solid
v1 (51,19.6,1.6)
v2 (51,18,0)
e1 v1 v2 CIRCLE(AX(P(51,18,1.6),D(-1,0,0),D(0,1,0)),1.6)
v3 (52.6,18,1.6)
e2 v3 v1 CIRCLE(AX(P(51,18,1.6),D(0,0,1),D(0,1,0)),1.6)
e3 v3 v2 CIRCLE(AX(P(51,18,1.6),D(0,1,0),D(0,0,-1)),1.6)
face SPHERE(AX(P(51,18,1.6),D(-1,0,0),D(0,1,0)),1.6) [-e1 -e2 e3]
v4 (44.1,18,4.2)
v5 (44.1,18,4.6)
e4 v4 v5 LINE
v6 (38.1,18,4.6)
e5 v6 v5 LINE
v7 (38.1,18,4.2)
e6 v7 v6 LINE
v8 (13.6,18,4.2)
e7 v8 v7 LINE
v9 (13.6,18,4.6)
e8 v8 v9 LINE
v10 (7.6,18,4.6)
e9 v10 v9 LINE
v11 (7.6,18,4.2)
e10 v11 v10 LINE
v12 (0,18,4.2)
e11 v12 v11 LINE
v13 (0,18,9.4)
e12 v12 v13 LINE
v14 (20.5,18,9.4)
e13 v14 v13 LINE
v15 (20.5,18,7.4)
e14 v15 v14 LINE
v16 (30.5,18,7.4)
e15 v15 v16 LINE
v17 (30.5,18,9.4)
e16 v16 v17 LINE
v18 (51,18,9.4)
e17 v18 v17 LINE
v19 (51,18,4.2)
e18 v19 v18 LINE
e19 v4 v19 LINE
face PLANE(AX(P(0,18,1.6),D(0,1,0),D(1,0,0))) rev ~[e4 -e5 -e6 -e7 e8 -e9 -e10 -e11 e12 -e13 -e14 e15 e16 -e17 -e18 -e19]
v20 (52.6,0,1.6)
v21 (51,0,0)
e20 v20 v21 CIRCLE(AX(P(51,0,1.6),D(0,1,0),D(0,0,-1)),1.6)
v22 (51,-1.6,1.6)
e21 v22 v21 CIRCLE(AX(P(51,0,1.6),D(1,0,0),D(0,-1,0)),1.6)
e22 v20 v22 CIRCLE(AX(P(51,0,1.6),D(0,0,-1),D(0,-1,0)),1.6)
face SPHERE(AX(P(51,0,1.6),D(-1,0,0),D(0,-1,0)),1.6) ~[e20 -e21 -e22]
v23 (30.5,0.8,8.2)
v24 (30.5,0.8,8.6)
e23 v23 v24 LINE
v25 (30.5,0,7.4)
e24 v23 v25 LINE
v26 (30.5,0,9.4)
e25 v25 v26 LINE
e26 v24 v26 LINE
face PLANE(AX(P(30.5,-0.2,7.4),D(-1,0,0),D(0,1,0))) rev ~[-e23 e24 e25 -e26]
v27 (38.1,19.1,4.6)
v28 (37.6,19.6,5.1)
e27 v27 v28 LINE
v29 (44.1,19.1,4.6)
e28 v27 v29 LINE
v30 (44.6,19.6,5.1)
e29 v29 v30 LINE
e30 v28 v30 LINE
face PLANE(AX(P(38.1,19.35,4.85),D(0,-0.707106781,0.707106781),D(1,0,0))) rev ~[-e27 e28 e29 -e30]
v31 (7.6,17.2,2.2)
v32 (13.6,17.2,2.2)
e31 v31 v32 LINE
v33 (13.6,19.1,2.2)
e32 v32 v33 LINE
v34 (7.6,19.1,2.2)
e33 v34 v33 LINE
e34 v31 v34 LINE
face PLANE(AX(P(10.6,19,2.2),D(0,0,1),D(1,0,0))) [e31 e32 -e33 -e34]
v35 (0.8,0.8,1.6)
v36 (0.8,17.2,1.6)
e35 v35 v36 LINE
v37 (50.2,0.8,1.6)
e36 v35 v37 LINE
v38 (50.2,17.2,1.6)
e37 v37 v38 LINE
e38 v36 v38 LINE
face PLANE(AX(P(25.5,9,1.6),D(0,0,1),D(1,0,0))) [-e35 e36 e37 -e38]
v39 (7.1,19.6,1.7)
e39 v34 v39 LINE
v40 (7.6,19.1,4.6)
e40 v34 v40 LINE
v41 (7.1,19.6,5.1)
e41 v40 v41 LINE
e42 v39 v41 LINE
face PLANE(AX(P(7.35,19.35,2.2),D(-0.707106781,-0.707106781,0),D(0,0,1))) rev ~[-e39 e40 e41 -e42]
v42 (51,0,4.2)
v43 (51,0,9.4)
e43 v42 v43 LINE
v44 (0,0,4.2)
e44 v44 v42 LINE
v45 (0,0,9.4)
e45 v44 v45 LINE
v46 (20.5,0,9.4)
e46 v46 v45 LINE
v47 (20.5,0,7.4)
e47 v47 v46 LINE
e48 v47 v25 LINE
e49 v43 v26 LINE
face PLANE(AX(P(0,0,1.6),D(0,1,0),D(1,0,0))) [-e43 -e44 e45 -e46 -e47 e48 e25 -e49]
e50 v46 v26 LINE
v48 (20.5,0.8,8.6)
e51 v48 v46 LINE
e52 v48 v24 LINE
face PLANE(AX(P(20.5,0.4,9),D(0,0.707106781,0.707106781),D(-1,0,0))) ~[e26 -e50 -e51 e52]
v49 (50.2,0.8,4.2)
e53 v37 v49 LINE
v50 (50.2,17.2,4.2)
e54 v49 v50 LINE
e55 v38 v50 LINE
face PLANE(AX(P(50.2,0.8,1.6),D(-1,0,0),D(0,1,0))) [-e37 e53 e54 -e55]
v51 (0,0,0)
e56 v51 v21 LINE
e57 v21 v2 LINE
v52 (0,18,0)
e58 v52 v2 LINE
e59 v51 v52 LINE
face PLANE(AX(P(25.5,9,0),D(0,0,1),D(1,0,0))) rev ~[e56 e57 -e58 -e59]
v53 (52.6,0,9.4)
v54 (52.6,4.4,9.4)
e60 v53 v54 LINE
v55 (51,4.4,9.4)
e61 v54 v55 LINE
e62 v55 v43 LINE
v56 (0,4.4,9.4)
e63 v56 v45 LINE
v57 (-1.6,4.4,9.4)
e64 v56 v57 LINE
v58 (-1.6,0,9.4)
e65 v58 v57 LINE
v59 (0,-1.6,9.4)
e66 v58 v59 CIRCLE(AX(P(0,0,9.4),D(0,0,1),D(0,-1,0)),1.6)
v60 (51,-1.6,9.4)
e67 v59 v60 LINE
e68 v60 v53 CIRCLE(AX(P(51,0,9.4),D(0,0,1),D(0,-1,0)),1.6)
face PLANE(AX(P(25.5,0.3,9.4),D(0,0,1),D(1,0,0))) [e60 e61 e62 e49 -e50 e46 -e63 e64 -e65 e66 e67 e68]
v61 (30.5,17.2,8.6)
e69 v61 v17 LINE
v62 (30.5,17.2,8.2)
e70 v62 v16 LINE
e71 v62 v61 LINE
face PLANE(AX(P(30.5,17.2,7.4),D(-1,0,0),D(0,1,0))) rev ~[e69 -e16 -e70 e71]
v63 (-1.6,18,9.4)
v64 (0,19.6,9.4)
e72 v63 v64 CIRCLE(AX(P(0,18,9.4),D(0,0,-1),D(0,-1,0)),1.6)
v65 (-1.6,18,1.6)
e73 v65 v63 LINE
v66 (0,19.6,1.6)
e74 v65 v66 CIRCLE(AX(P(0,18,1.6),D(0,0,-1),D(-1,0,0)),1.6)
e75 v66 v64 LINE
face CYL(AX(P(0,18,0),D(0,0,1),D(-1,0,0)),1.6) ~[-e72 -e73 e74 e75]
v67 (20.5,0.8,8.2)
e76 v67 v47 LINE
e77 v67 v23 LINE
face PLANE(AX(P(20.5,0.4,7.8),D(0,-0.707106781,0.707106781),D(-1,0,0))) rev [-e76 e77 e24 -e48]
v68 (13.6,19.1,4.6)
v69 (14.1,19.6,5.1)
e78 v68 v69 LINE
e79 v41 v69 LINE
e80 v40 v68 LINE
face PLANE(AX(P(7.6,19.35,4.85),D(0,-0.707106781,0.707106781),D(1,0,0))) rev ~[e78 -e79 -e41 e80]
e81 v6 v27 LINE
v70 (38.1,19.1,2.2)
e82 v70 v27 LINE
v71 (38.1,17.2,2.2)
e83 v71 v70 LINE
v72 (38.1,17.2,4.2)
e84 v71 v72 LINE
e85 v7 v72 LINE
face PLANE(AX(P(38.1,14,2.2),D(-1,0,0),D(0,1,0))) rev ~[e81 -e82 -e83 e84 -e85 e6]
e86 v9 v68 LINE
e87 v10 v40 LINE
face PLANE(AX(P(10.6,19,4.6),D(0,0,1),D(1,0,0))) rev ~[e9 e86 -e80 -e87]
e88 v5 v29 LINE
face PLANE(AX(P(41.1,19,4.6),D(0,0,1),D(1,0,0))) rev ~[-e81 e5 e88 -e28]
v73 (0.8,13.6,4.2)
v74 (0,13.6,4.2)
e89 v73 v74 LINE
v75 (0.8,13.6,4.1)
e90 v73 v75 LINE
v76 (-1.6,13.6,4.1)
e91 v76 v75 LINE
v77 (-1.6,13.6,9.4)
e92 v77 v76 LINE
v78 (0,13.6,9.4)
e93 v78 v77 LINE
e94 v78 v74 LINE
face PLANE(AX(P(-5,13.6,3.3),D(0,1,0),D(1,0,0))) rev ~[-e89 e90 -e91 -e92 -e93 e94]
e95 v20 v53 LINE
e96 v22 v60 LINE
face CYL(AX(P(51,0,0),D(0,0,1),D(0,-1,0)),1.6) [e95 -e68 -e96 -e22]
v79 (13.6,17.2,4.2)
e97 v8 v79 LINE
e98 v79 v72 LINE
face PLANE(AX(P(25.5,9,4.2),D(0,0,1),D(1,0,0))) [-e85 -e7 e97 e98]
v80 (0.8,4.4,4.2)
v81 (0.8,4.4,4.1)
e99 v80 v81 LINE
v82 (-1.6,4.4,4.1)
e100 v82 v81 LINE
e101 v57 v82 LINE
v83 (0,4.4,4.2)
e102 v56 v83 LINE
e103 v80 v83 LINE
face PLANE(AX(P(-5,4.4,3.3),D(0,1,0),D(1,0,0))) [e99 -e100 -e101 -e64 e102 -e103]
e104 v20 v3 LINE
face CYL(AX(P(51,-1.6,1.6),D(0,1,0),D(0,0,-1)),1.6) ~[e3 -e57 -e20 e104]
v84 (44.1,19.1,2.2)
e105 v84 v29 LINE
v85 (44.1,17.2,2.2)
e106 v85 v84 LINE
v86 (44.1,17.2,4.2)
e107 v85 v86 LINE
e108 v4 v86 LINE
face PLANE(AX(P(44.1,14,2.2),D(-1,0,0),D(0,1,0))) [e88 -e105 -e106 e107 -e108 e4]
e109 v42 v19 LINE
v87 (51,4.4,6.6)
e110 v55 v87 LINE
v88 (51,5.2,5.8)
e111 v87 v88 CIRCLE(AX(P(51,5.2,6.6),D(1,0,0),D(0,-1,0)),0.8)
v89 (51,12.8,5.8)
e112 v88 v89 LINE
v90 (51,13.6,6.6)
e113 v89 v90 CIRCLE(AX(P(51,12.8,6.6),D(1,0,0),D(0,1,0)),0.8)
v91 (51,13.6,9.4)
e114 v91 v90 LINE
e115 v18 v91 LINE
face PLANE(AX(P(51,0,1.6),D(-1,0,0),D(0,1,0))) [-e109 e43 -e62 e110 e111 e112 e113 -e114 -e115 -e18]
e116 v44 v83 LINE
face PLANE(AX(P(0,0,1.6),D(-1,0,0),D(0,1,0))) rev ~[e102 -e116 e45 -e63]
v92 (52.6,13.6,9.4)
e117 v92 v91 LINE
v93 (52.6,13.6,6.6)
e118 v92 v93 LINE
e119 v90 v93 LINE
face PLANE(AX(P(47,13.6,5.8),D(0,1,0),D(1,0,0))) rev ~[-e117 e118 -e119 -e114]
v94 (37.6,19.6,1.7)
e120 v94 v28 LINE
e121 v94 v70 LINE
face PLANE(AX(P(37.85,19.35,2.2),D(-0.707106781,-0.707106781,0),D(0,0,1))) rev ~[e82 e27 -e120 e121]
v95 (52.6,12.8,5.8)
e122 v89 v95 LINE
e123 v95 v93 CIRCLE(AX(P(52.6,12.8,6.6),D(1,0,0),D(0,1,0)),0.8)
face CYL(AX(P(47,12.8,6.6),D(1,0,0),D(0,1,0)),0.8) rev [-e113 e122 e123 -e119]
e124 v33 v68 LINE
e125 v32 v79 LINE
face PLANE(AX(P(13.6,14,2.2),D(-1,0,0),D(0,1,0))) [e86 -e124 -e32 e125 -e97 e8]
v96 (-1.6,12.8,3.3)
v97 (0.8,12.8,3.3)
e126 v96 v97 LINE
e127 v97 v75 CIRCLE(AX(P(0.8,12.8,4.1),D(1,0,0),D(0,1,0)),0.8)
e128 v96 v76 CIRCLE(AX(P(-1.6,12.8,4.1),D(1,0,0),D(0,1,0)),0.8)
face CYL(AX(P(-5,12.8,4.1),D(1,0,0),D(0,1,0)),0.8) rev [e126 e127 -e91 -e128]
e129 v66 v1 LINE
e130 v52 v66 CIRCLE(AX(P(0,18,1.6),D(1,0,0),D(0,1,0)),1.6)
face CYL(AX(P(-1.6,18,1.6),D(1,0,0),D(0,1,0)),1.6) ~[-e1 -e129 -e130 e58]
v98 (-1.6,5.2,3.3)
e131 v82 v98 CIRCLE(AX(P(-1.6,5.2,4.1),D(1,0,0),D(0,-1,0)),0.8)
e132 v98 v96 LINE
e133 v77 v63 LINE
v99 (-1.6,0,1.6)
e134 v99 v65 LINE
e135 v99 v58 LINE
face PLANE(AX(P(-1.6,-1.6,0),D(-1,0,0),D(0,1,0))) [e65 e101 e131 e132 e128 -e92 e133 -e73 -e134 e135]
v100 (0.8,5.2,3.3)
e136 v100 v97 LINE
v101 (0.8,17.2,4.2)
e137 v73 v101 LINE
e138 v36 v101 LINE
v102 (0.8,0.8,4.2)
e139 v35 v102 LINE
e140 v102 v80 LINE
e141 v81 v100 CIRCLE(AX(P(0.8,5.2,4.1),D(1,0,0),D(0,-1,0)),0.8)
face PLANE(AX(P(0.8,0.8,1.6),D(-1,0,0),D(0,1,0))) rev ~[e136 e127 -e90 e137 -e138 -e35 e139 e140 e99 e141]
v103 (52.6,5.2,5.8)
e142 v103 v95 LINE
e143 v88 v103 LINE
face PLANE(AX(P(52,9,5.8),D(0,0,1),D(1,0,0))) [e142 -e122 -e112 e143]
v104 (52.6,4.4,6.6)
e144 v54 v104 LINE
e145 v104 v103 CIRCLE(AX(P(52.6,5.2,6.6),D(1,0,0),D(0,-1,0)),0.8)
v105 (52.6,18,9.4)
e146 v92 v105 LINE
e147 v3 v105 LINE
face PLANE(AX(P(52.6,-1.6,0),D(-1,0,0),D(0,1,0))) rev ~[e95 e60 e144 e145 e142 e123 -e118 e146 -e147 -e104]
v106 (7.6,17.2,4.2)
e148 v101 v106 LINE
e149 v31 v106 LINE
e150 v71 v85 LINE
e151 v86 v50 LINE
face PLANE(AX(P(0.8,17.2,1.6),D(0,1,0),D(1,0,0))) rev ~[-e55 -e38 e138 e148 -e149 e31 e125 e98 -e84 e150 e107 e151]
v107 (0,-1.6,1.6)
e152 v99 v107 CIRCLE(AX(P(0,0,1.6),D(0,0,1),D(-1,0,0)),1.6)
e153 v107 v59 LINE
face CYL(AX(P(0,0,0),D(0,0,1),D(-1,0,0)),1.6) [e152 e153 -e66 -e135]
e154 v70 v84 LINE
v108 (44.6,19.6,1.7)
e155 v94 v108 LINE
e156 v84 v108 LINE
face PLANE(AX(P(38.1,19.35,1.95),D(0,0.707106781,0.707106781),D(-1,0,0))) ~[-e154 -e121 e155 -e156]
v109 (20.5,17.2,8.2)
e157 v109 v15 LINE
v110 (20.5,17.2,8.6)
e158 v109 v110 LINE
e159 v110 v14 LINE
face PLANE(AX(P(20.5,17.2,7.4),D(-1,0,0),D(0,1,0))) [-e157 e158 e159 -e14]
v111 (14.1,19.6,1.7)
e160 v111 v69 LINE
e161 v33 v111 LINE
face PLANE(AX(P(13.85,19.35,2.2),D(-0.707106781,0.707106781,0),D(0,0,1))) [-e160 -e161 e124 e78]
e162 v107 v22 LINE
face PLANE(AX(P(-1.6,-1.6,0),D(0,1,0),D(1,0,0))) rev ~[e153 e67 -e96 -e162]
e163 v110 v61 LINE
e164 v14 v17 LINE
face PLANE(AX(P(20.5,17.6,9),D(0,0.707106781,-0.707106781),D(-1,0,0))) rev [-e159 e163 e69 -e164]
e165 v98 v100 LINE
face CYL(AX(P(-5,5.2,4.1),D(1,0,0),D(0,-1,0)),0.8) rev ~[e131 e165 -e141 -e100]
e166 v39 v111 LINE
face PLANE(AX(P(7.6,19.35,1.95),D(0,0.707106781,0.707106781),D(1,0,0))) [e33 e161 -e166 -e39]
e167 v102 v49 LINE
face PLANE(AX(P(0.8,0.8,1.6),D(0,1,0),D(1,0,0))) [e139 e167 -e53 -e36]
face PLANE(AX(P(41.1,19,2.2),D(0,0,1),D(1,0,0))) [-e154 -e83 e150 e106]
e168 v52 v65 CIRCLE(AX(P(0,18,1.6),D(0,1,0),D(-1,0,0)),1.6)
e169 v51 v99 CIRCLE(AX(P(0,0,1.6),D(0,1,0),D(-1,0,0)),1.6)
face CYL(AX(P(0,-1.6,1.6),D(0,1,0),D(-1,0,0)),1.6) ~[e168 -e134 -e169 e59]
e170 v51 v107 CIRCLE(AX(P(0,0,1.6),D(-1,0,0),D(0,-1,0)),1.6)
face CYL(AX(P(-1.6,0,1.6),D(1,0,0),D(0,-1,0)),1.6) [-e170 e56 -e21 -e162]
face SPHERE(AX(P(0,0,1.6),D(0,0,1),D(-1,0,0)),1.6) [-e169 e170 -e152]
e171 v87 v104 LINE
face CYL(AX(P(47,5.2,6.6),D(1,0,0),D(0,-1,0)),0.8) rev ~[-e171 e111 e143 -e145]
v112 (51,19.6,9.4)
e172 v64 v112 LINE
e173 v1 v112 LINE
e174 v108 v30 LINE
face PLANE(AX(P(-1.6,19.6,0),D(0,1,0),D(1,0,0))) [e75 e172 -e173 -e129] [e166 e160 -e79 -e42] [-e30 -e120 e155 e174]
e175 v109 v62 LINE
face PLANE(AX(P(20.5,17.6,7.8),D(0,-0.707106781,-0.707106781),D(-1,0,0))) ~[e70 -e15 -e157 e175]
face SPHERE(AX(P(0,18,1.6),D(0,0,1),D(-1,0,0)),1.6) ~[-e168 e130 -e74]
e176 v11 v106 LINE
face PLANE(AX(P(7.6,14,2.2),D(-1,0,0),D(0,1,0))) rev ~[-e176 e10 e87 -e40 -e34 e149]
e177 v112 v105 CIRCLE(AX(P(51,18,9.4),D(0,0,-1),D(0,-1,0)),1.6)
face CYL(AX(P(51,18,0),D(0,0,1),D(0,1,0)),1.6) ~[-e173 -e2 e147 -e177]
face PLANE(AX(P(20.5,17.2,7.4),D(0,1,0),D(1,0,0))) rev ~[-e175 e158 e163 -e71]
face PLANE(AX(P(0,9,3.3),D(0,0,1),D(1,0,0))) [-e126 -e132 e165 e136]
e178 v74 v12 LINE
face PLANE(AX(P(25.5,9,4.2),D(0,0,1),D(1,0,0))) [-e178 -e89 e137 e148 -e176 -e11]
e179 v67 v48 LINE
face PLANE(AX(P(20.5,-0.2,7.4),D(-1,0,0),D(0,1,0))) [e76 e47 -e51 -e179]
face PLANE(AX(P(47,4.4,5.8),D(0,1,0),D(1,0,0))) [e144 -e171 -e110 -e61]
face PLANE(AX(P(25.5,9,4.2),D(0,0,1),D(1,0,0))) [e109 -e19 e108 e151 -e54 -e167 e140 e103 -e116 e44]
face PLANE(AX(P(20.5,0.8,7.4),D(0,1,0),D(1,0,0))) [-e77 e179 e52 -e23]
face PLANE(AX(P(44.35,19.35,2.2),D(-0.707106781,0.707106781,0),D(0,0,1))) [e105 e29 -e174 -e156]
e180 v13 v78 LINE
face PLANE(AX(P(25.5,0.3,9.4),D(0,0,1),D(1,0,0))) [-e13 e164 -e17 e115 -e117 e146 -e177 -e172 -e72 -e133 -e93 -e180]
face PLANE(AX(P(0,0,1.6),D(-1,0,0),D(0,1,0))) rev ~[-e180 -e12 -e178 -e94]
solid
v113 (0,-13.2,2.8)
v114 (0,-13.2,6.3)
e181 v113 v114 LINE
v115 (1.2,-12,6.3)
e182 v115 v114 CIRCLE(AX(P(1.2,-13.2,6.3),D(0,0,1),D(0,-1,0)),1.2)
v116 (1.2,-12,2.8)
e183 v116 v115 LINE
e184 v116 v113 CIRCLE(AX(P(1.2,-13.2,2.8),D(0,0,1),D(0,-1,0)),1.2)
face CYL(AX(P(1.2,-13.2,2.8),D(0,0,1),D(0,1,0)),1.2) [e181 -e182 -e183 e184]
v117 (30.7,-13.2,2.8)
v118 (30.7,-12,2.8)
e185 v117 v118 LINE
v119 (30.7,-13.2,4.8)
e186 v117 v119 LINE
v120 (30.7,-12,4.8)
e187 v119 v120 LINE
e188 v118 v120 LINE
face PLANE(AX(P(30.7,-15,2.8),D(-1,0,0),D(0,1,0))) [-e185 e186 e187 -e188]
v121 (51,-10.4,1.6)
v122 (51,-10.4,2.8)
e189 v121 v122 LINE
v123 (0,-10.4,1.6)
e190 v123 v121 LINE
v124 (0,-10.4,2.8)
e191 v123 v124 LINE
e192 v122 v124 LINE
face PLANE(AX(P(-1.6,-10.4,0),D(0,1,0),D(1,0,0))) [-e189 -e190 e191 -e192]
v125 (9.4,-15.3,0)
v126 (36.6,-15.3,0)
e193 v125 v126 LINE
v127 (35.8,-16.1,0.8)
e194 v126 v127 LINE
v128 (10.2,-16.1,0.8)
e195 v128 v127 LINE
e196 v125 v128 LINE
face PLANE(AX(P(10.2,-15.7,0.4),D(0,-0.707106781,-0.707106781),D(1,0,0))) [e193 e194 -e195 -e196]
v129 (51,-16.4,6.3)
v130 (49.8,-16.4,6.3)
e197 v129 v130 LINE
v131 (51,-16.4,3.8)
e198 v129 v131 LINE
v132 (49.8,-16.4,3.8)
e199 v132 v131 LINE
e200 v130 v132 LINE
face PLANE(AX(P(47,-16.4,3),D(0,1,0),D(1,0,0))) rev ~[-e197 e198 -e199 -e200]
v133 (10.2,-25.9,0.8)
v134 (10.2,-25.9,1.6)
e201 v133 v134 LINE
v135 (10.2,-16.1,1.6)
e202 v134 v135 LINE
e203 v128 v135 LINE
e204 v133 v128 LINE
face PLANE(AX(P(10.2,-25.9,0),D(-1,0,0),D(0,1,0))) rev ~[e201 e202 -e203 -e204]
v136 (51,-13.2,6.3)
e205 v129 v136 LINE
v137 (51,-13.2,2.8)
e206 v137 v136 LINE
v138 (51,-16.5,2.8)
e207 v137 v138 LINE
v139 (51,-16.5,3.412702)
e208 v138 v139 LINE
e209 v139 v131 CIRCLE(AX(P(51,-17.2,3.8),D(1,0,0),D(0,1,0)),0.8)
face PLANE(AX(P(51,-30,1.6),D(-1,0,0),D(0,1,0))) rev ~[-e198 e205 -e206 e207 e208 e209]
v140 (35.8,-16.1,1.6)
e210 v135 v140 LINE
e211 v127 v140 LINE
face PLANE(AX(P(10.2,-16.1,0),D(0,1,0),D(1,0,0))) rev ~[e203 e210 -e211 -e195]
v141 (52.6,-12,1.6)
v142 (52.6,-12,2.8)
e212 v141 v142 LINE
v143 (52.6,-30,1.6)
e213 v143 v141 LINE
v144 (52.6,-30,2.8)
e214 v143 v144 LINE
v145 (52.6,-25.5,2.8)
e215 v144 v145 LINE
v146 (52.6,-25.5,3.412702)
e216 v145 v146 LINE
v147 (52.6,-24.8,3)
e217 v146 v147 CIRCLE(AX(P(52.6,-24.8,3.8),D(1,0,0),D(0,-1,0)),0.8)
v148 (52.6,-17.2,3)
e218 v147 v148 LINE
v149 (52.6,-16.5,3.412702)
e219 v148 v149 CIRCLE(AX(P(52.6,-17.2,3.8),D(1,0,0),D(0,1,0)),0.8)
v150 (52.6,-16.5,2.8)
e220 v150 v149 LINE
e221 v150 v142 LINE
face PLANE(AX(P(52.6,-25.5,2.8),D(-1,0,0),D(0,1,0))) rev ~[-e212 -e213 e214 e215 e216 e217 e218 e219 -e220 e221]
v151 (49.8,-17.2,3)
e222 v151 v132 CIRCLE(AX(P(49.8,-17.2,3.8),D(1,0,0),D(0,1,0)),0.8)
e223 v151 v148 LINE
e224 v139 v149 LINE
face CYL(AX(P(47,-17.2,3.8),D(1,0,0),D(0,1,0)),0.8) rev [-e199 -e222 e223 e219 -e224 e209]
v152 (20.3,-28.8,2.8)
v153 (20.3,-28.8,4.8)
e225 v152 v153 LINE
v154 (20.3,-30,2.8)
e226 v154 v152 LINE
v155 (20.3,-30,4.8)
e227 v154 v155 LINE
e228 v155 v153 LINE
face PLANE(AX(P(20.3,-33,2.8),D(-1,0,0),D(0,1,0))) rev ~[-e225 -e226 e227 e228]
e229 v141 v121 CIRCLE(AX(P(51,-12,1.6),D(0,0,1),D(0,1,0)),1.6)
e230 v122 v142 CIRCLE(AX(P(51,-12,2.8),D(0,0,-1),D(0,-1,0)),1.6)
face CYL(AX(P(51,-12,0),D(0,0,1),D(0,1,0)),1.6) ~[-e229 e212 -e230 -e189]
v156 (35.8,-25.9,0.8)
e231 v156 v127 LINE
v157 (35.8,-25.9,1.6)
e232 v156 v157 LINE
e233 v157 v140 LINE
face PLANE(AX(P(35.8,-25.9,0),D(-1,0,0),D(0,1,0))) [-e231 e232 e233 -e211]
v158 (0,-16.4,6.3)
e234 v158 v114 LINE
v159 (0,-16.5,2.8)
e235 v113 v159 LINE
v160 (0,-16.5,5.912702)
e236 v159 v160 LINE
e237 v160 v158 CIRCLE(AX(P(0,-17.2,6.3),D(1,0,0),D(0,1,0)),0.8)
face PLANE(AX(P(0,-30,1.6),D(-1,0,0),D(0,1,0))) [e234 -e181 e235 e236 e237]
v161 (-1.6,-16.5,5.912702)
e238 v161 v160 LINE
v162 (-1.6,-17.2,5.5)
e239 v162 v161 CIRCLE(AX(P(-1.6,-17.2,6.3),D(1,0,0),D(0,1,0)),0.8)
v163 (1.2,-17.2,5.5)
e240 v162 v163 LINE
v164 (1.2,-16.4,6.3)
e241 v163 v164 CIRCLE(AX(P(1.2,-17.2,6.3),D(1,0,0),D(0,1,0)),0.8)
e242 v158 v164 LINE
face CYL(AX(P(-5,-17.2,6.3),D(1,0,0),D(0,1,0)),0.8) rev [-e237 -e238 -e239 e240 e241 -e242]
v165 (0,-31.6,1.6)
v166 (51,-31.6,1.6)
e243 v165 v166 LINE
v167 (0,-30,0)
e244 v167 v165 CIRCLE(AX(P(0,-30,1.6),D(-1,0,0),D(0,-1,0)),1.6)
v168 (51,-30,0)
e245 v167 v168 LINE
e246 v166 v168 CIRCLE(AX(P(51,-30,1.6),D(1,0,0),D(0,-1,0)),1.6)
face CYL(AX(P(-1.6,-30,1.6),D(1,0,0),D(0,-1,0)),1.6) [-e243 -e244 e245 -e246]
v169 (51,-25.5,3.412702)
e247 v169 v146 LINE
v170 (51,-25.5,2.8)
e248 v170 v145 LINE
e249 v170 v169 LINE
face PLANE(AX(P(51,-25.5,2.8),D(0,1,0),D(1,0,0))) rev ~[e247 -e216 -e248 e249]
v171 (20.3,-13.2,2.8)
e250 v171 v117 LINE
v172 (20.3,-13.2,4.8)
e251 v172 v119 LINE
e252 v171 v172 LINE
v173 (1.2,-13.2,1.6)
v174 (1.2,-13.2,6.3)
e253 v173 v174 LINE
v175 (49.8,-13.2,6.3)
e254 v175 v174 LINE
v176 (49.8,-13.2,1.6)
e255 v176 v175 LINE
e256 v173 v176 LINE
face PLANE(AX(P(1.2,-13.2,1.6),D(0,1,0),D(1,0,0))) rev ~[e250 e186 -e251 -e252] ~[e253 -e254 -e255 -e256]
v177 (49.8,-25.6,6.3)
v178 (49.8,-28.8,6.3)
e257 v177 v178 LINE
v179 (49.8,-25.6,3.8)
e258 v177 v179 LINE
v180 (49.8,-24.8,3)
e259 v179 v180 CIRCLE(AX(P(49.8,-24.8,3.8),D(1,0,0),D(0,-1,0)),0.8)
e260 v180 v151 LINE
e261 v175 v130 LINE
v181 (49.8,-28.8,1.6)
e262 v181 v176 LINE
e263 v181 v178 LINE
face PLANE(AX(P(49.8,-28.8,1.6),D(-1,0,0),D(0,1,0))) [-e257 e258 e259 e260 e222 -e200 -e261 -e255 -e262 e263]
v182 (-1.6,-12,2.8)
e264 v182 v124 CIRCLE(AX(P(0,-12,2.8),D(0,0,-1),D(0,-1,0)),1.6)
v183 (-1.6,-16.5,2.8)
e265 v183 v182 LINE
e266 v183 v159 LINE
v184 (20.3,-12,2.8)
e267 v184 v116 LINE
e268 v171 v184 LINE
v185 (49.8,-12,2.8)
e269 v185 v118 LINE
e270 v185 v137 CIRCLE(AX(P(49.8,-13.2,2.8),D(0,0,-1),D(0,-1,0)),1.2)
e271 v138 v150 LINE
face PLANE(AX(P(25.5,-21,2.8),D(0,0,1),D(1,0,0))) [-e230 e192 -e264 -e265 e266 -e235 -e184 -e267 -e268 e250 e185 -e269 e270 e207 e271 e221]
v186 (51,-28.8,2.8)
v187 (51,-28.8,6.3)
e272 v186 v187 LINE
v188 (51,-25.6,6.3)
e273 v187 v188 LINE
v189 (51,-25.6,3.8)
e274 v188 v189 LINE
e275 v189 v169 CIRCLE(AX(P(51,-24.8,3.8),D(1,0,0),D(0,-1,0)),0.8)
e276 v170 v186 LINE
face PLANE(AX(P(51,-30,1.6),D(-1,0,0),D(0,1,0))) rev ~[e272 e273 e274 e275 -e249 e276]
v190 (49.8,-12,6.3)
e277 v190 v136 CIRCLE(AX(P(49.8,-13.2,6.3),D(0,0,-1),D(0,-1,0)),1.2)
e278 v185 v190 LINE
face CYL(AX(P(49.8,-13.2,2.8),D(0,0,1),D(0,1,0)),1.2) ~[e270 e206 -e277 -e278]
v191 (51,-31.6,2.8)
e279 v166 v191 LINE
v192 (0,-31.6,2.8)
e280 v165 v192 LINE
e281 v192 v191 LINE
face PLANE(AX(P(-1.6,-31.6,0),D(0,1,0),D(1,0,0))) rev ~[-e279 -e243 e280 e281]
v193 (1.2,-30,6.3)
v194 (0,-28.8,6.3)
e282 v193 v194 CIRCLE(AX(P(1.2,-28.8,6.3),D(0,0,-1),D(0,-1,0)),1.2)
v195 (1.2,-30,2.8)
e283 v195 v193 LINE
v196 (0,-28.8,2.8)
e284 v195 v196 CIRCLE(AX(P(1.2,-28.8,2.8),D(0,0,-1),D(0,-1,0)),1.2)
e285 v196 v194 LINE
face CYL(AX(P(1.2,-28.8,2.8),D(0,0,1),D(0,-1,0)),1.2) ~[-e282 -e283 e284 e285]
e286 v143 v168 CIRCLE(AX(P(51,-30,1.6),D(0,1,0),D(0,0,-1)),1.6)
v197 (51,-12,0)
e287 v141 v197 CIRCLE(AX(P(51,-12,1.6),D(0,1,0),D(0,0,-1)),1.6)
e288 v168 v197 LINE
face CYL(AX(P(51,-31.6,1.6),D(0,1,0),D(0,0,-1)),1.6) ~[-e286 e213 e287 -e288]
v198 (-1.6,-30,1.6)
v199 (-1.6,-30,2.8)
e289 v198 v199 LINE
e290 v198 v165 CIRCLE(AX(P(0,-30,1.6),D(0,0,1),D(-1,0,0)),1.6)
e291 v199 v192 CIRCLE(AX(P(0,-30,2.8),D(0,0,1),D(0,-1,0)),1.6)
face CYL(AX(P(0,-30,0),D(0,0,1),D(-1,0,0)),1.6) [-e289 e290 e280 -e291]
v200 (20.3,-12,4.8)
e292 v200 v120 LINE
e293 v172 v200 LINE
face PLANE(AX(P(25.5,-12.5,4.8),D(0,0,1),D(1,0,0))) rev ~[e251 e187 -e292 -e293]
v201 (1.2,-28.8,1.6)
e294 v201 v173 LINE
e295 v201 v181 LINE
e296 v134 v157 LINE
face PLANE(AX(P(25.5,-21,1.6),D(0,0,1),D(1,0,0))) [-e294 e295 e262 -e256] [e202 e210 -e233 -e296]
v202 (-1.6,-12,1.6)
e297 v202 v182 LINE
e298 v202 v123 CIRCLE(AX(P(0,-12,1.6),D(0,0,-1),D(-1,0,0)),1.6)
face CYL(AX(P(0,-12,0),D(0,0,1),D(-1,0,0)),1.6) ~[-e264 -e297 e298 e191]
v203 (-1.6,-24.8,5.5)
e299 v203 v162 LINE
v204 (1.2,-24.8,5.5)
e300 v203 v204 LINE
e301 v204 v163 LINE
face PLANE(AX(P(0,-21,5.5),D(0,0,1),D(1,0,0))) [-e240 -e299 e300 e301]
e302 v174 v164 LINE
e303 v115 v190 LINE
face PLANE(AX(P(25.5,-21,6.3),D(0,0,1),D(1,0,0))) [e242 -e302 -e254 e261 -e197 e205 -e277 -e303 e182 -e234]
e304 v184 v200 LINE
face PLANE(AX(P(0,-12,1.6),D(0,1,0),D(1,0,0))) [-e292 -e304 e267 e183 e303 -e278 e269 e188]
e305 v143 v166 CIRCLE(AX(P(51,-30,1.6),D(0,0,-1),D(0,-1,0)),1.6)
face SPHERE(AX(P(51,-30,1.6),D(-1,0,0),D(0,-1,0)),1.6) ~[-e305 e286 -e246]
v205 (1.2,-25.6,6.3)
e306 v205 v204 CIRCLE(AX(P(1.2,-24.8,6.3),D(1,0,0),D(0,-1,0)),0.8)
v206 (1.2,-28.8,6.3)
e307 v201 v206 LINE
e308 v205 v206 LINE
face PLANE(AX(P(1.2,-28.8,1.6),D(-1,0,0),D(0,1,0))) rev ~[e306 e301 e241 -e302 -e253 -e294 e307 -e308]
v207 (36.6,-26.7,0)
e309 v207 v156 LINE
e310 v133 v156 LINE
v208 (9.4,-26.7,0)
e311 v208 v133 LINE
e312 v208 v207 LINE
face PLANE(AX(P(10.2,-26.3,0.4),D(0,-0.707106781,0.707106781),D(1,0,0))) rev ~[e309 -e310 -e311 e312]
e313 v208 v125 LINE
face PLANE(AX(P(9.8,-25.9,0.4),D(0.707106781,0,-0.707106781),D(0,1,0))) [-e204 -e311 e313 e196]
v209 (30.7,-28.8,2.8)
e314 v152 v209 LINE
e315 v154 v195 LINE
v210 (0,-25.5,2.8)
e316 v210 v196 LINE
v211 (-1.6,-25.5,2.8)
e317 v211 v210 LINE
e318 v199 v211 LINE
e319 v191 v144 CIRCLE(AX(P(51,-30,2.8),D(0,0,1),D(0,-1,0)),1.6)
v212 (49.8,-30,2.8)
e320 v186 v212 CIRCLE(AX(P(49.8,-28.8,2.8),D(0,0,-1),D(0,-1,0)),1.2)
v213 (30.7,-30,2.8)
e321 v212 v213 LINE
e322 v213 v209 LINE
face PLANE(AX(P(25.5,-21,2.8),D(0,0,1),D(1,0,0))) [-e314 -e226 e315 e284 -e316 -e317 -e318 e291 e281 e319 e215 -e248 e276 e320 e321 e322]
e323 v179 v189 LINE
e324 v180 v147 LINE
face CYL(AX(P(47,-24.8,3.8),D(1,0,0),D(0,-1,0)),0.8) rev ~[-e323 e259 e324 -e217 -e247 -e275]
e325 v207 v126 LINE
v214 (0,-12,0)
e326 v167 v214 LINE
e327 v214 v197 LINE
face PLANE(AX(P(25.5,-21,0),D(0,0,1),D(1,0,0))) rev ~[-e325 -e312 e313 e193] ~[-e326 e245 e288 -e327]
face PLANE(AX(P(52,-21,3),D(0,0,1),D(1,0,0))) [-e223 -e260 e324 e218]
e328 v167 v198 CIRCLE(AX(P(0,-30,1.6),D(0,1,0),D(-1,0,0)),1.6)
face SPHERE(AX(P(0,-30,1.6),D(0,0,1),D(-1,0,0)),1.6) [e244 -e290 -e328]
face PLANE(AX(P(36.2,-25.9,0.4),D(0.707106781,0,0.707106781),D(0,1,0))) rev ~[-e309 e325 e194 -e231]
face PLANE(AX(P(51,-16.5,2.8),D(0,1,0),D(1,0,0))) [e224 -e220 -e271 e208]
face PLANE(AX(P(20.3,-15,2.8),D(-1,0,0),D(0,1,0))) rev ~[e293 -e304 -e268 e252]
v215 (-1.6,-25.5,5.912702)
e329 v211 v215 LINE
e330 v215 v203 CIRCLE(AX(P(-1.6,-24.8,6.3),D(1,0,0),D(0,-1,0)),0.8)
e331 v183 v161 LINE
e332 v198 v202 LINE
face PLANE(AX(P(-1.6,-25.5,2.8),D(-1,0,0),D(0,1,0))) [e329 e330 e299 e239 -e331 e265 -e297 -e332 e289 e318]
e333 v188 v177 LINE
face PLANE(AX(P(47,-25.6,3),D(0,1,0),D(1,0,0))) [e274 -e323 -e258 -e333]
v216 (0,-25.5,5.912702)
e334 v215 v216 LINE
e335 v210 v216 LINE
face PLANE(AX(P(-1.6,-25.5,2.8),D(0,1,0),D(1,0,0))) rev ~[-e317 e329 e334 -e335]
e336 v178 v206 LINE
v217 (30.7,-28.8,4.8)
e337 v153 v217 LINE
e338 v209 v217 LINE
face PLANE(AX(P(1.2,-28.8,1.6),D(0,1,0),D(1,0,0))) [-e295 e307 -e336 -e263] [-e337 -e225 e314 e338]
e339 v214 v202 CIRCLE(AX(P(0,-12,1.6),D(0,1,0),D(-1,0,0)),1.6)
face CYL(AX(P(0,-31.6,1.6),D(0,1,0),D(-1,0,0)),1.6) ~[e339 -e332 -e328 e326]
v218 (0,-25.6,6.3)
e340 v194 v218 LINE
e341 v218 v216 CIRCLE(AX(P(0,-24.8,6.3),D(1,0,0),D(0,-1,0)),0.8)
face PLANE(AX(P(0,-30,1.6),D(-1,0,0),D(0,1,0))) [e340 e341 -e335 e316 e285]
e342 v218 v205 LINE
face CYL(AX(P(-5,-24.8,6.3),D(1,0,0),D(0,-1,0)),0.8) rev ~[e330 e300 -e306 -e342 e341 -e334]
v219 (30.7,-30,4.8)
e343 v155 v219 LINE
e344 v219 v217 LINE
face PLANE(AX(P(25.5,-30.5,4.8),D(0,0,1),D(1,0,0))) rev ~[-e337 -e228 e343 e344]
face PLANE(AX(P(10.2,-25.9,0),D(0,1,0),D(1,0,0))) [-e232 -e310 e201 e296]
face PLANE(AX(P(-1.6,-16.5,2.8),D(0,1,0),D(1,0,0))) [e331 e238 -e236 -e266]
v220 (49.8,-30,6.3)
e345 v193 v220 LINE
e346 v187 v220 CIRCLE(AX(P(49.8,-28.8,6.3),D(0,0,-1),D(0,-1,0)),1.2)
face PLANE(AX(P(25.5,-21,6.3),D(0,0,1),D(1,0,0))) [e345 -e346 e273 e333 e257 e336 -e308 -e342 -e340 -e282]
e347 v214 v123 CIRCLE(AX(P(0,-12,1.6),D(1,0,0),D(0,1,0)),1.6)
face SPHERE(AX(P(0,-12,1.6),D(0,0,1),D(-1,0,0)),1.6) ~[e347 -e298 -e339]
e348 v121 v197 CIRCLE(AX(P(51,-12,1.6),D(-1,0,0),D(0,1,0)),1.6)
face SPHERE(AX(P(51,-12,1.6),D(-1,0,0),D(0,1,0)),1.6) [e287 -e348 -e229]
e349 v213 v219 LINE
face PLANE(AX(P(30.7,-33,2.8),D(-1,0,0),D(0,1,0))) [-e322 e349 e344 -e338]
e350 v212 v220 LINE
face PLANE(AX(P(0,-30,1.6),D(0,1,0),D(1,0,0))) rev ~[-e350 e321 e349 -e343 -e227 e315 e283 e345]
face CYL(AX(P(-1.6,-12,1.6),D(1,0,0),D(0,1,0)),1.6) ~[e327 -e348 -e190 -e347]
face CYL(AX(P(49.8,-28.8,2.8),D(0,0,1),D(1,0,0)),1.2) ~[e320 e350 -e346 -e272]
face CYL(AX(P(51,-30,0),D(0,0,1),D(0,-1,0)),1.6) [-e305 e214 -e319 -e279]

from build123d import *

# Parameters (mm, degrees)
BOX009_W        = 6
BOX009_H        = 10
BOX009_DEPTH    = 2.4
BOX006_W        = 10
BOX006_H        = 9.2
BOX006_DEPTH    = 7
FILLET002_R     = 0.8
BOX019_W        = 10
BOX019_H        = 9.2
BOX019_DEPTH    = 7
FILLET003_R     = 0.8
BOX008_W        = 6
BOX008_H        = 10
BOX008_DEPTH    = 2.4
BOX003_W        = 49.4
BOX003_H        = 16.4
BOX003_DEPTH    = 2.6
BOX002_W        = 51
BOX002_H        = 18
BOX002_DEPTH    = 2.6
BOX004_W        = 10
BOX004_H        = 1
BOX004_DEPTH    = 2
CHAMFER_SIZE    = 0.8
BOX005_W        = 10
BOX005_H        = 1
BOX005_DEPTH    = 2
CHAMFER001_SIZE = 0.8
BOX001_W        = 51
BOX001_H        = 18
BOX001_DEPTH    = 9.4
BOX_W           = 54.2
BOX_H           = 21.2
BOX_DEPTH       = 9.4
FILLET_R        = 1.6
CHAMFER002_SIZE = 0.5
BOX017_W        = 10.4
BOX017_H        = 5
BOX017_DEPTH    = 2
BOX018_W        = 10.4
BOX018_H        = 5
BOX018_DEPTH    = 2
BOX020_W        = 10
BOX020_H        = 9.2
BOX020_DEPTH    = 4.6
FILLET004_R     = 0.8
BOX021_W        = 10
BOX021_H        = 9.2
BOX021_DEPTH    = 6
FILLET005_R     = 0.8
BOX014_W        = 25.6
BOX014_H        = 9.8
BOX014_DEPTH    = 1.6
BOX013_W        = 48.6
BOX013_H        = 15.6
BOX013_DEPTH    = 4.8
BOX012_W        = 51
BOX012_H        = 18
BOX012_DEPTH    = 4.7
BOX022_W        = 1.6
BOX022_H        = 9
BOX022_DEPTH    = 5
BOX023_W        = 1.6
BOX023_H        = 9
BOX023_DEPTH    = 5
BOX011_W        = 51
BOX011_H        = 18
BOX011_DEPTH    = 9.4
BOX010_W        = 54.2
BOX010_H        = 21.2
BOX010_DEPTH    = 2.8
FILLET001_R     = 1.6
CHAMFER003_SIZE = 0.8
FILLET006_R     = 1.2


with BuildPart() as button2:
    # Box009 → Box009 (new body)
    with BuildSketch(Plane(origin=(38.1, 14, 2.2), x_dir=(1, 0, 0), z_dir=(0, 0, 1))):
        with Locations((3, 5)):
            Rectangle(BOX009_W, BOX009_H)
    extrude(amount=BOX009_DEPTH)


with BuildPart() as usb_buchse1:
    # Box006 → Box006 (new body)
    with BuildSketch(Plane(origin=(-5, 4.4, 3.3), x_dir=(1, 0, 0), z_dir=(0, 0, 1))):
        with Locations((5, 4.6)):
            Rectangle(BOX006_W, BOX006_H)
    extrude(amount=BOX006_DEPTH)

    # Fillet002
    fillet002_edges = [usb_buchse1.edges().sort_by_distance(p)[0] for p in [
        (0, 4.4, 3.3),
        (0, 13.6, 3.3),
    ]]
    fillet(fillet002_edges, radius=FILLET002_R)


with BuildPart() as usb_buchse2:
    # Box019 → Box019 (new body)
    with BuildSketch(Plane(origin=(47, 4.4, 5.8), x_dir=(1, 0, 0), z_dir=(0, 0, 1))):
        with Locations((5, 4.6)):
            Rectangle(BOX019_W, BOX019_H)
    extrude(amount=BOX019_DEPTH)

    # Fillet003
    fillet003_edges = [usb_buchse2.edges().sort_by_distance(p)[0] for p in [
        (52, 4.4, 5.8),
        (52, 13.6, 5.8),
    ]]
    fillet(fillet003_edges, radius=FILLET003_R)


with BuildPart() as bottom_cutouts:
    # Box008 → Box008 (new body)
    with BuildSketch(Plane(origin=(7.6, 14, 2.2), x_dir=(1, 0, 0), z_dir=(0, 0, 1))):
        with Locations((3, 5)):
            Rectangle(BOX008_W, BOX008_H)
    extrude(amount=BOX008_DEPTH)

    # Fusion001: union Button2, USB_Buchse1, USB_Buchse2
    add(button2.part)
    add(usb_buchse1.part)
    add(usb_buchse2.part)


with BuildPart() as auflage_innen:
    # Box003 → Box003 (new body)
    with BuildSketch(Plane(origin=(0.8, 0.8, 1.6), x_dir=(1, 0, 0), z_dir=(0, 0, 1))):
        with Locations((24.7, 8.2)):
            Rectangle(BOX003_W, BOX003_H)
    extrude(amount=BOX003_DEPTH)


with BuildPart() as auflage:
    # Box002 → Box002 (new body)
    with BuildSketch(Plane.XY.offset(1.6)):
        with Locations((25.5, 9)):
            Rectangle(BOX002_W, BOX002_H)
    extrude(amount=BOX002_DEPTH)

    # Cut001: cut Auflage_innen
    add(auflage_innen.part, mode=Mode.SUBTRACT)


with BuildPart() as haken1:
    # Box004 → Box004 (new body)
    with BuildSketch(Plane(origin=(20.5, -0.2, 7.4), x_dir=(1, 0, 0), z_dir=(0, 0, 1))):
        with Locations((5, 0.5)):
            Rectangle(BOX004_W, BOX004_H)
    extrude(amount=BOX004_DEPTH)

    # Chamfer
    chamfer_edges = [haken1.edges().sort_by_distance(p)[0] for p in [
        (25.5, 0.8, 7.4),
        (25.5, 0.8, 9.4),
    ]]
    chamfer(chamfer_edges, length=CHAMFER_SIZE)


with BuildPart() as haken2:
    # Box005 → Box005 (new body)
    with BuildSketch(Plane(origin=(20.5, 17.2, 7.4), x_dir=(1, 0, 0), z_dir=(0, 0, 1))):
        with Locations((5, 0.5)):
            Rectangle(BOX005_W, BOX005_H)
    extrude(amount=BOX005_DEPTH)

    # Chamfer001
    chamfer001_edges = [haken2.edges().sort_by_distance(p)[0] for p in [
        (25.5, 17.2, 7.4),
        (25.5, 17.2, 9.4),
    ]]
    chamfer(chamfer001_edges, length=CHAMFER001_SIZE)


with BuildPart() as unten_innen:
    # Box001 → Box001 (new body)
    with BuildSketch(Plane.XY.offset(1.6)):
        with Locations((25.5, 9)):
            Rectangle(BOX001_W, BOX001_H)
    extrude(amount=BOX001_DEPTH)


with BuildPart() as case_bottom:
    # Box → Box (new body)
    with BuildSketch(Plane(origin=(-1.6, -1.6, 0), x_dir=(1, 0, 0), z_dir=(0, 0, 1))):
        with Locations((27.1, 10.6)):
            Rectangle(BOX_W, BOX_H)
    extrude(amount=BOX_DEPTH)

    # Cut: cut unten_innen
    add(unten_innen.part, mode=Mode.SUBTRACT)

    # Fillet
    fillet_edges = [case_bottom.edges().sort_by_distance(p)[0] for p in [
        (-1.6, -1.6, 4.7),
        (-1.6, 19.6, 4.7),
        (-1.6, 9, 0),
        (25.5, -1.6, 0),
        (52.6, -1.6, 4.7),
        (25.5, 19.6, 0),
        (52.6, 19.6, 4.7),
        (52.6, 9, 0),
    ]]
    fillet(fillet_edges, radius=FILLET_R)

    # Fusion: union Auflage, Haken1, Haken2
    add(auflage.part)
    add(haken1.part)
    add(haken2.part)

    # Cut004: cut bottom_cutouts
    add(bottom_cutouts.part, mode=Mode.SUBTRACT)

    # Chamfer002
    chamfer002_edges = [case_bottom.edges().sort_by_distance(p)[0] for p in [
        (10.6, 19.6, 4.6),
        (13.6, 19.6, 3.4),
        (10.6, 19.6, 2.2),
        (7.6, 19.6, 3.4),
        (44.1, 19.6, 3.4),
        (41.1, 19.6, 2.2),
        (38.1, 19.6, 3.4),
        (41.1, 19.6, 4.6),
    ]]
    chamfer(chamfer002_edges, length=CHAMFER002_SIZE)


with BuildPart() as oese1:
    # Box017 → Box017 (new body)
    with BuildSketch(Plane(origin=(20.3, -33, 2.8), x_dir=(1, 0, 0), z_dir=(0, 0, 1))):
        with Locations((5.2, 2.5)):
            Rectangle(BOX017_W, BOX017_H)
    extrude(amount=BOX017_DEPTH)


with BuildPart() as oese2:
    # Box018 → Box018 (new body)
    with BuildSketch(Plane(origin=(20.3, -15, 2.8), x_dir=(1, 0, 0), z_dir=(0, 0, 1))):
        with Locations((5.2, 2.5)):
            Rectangle(BOX018_W, BOX018_H)
    extrude(amount=BOX018_DEPTH)


with BuildPart() as usb_buchse3:
    # Box020 → Box020 (new body)
    with BuildSketch(Plane(origin=(-5, -25.6, 5.5), x_dir=(1, 0, 0), z_dir=(0, 0, 1))):
        with Locations((5, 4.6)):
            Rectangle(BOX020_W, BOX020_H)
    extrude(amount=BOX020_DEPTH)

    # Fillet004
    fillet004_edges = [usb_buchse3.edges().sort_by_distance(p)[0] for p in [
        (0, -25.6, 5.5),
        (0, -16.4, 5.5),
    ]]
    fillet(fillet004_edges, radius=FILLET004_R)


with BuildPart() as usb_buchse4:
    # Box021 → Box021 (new body)
    with BuildSketch(Plane(origin=(47, -25.6, 3), x_dir=(1, 0, 0), z_dir=(0, 0, 1))):
        with Locations((5, 4.6)):
            Rectangle(BOX021_W, BOX021_H)
    extrude(amount=BOX021_DEPTH)

    # Fillet005
    fillet005_edges = [usb_buchse4.edges().sort_by_distance(p)[0] for p in [
        (52, -25.6, 3),
        (52, -16.4, 3),
    ]]
    fillet(fillet005_edges, radius=FILLET005_R)


with BuildPart() as top_cutouts:
    # Box014 → Box014 (new body)
    with BuildSketch(Plane(origin=(10.2, -25.9, 0), x_dir=(1, 0, 0), z_dir=(0, 0, 1))):
        with Locations((12.8, 4.9)):
            Rectangle(BOX014_W, BOX014_H)
    extrude(amount=BOX014_DEPTH)

    # Fusion003: union Oese1, Oese2, USB-Buchse3, USB-Buchse4
    add(oese1.part)
    add(oese2.part)
    add(usb_buchse3.part)
    add(usb_buchse4.part)


with BuildPart() as rahmen_innen:
    # Box013 → Box013 (new body)
    with BuildSketch(Plane(origin=(1.2, -28.8, 1.6), x_dir=(1, 0, 0), z_dir=(0, 0, 1))):
        with Locations((24.3, 7.8)):
            Rectangle(BOX013_W, BOX013_H)
    extrude(amount=BOX013_DEPTH)


with BuildPart() as rahmen:
    # Box012 → Box012 (new body)
    with BuildSketch(Plane(origin=(0, -30, 1.6), x_dir=(1, 0, 0), z_dir=(0, 0, 1))):
        with Locations((25.5, 9)):
            Rectangle(BOX012_W, BOX012_H)
    extrude(amount=BOX012_DEPTH)

    # Cut003: cut Rahmen_innen
    add(rahmen_innen.part, mode=Mode.SUBTRACT)


with BuildPart() as nut1:
    # Box022 → Box022 (new body)
    with BuildSketch(Plane(origin=(-1.6, -25.5, 2.8), x_dir=(1, 0, 0), z_dir=(0, 0, 1))):
        with Locations((0.8, 4.5)):
            Rectangle(BOX022_W, BOX022_H)
    extrude(amount=BOX022_DEPTH)


with BuildPart() as nut2:
    # Box023 → Box023 (new body)
    with BuildSketch(Plane(origin=(51, -25.5, 2.8), x_dir=(1, 0, 0), z_dir=(0, 0, 1))):
        with Locations((0.8, 4.5)):
            Rectangle(BOX023_W, BOX023_H)
    extrude(amount=BOX023_DEPTH)


with BuildPart() as oben_innen:
    # Box011 → Box011 (new body)
    with BuildSketch(Plane(origin=(0, -30, 1.6), x_dir=(1, 0, 0), z_dir=(0, 0, 1))):
        with Locations((25.5, 9)):
            Rectangle(BOX011_W, BOX011_H)
    extrude(amount=BOX011_DEPTH)


with BuildPart() as case_top:
    # Box010 → Box010 (new body)
    with BuildSketch(Plane(origin=(-1.6, -31.6, 0), x_dir=(1, 0, 0), z_dir=(0, 0, 1))):
        with Locations((27.1, 10.6)):
            Rectangle(BOX010_W, BOX010_H)
    extrude(amount=BOX010_DEPTH)

    # Cut002: cut oben_innen
    add(oben_innen.part, mode=Mode.SUBTRACT)

    # Fillet001
    fillet001_edges = [case_top.edges().sort_by_distance(p)[0] for p in [
        (-1.6, -31.6, 1.4),
        (-1.6, -10.4, 1.4),
        (-1.6, -21, 0),
        (25.5, -31.6, 0),
        (52.6, -31.6, 1.4),
        (25.5, -10.4, 0),
        (52.6, -10.4, 1.4),
        (52.6, -21, 0),
    ]]
    fillet(fillet001_edges, radius=FILLET001_R)

    # Fusion002: union Rahmen, Nut1, Nut2
    add(rahmen.part)
    add(nut1.part)
    add(nut2.part)

    # Cut005: cut top_cutouts
    add(top_cutouts.part, mode=Mode.SUBTRACT)

    # Chamfer003
    chamfer003_edges = [case_top.edges().sort_by_distance(p)[0] for p in [
        (35.8, -21, 0),
        (23, -16.1, 0),
        (10.2, -21, 0),
        (23, -25.9, 0),
    ]]
    chamfer(chamfer003_edges, length=CHAMFER003_SIZE)

    # Fillet006
    fillet006_edges = [case_top.edges().sort_by_distance(p)[0] for p in [
        (0, -30, 4.55),
        (51, -30, 4.55),
        (51, -12, 4.55),
        (0, -12, 4.55),
    ]]
    fillet(fillet006_edges, radius=FILLET006_R)


solid = Compound([case_bottom.part, case_top.part])
